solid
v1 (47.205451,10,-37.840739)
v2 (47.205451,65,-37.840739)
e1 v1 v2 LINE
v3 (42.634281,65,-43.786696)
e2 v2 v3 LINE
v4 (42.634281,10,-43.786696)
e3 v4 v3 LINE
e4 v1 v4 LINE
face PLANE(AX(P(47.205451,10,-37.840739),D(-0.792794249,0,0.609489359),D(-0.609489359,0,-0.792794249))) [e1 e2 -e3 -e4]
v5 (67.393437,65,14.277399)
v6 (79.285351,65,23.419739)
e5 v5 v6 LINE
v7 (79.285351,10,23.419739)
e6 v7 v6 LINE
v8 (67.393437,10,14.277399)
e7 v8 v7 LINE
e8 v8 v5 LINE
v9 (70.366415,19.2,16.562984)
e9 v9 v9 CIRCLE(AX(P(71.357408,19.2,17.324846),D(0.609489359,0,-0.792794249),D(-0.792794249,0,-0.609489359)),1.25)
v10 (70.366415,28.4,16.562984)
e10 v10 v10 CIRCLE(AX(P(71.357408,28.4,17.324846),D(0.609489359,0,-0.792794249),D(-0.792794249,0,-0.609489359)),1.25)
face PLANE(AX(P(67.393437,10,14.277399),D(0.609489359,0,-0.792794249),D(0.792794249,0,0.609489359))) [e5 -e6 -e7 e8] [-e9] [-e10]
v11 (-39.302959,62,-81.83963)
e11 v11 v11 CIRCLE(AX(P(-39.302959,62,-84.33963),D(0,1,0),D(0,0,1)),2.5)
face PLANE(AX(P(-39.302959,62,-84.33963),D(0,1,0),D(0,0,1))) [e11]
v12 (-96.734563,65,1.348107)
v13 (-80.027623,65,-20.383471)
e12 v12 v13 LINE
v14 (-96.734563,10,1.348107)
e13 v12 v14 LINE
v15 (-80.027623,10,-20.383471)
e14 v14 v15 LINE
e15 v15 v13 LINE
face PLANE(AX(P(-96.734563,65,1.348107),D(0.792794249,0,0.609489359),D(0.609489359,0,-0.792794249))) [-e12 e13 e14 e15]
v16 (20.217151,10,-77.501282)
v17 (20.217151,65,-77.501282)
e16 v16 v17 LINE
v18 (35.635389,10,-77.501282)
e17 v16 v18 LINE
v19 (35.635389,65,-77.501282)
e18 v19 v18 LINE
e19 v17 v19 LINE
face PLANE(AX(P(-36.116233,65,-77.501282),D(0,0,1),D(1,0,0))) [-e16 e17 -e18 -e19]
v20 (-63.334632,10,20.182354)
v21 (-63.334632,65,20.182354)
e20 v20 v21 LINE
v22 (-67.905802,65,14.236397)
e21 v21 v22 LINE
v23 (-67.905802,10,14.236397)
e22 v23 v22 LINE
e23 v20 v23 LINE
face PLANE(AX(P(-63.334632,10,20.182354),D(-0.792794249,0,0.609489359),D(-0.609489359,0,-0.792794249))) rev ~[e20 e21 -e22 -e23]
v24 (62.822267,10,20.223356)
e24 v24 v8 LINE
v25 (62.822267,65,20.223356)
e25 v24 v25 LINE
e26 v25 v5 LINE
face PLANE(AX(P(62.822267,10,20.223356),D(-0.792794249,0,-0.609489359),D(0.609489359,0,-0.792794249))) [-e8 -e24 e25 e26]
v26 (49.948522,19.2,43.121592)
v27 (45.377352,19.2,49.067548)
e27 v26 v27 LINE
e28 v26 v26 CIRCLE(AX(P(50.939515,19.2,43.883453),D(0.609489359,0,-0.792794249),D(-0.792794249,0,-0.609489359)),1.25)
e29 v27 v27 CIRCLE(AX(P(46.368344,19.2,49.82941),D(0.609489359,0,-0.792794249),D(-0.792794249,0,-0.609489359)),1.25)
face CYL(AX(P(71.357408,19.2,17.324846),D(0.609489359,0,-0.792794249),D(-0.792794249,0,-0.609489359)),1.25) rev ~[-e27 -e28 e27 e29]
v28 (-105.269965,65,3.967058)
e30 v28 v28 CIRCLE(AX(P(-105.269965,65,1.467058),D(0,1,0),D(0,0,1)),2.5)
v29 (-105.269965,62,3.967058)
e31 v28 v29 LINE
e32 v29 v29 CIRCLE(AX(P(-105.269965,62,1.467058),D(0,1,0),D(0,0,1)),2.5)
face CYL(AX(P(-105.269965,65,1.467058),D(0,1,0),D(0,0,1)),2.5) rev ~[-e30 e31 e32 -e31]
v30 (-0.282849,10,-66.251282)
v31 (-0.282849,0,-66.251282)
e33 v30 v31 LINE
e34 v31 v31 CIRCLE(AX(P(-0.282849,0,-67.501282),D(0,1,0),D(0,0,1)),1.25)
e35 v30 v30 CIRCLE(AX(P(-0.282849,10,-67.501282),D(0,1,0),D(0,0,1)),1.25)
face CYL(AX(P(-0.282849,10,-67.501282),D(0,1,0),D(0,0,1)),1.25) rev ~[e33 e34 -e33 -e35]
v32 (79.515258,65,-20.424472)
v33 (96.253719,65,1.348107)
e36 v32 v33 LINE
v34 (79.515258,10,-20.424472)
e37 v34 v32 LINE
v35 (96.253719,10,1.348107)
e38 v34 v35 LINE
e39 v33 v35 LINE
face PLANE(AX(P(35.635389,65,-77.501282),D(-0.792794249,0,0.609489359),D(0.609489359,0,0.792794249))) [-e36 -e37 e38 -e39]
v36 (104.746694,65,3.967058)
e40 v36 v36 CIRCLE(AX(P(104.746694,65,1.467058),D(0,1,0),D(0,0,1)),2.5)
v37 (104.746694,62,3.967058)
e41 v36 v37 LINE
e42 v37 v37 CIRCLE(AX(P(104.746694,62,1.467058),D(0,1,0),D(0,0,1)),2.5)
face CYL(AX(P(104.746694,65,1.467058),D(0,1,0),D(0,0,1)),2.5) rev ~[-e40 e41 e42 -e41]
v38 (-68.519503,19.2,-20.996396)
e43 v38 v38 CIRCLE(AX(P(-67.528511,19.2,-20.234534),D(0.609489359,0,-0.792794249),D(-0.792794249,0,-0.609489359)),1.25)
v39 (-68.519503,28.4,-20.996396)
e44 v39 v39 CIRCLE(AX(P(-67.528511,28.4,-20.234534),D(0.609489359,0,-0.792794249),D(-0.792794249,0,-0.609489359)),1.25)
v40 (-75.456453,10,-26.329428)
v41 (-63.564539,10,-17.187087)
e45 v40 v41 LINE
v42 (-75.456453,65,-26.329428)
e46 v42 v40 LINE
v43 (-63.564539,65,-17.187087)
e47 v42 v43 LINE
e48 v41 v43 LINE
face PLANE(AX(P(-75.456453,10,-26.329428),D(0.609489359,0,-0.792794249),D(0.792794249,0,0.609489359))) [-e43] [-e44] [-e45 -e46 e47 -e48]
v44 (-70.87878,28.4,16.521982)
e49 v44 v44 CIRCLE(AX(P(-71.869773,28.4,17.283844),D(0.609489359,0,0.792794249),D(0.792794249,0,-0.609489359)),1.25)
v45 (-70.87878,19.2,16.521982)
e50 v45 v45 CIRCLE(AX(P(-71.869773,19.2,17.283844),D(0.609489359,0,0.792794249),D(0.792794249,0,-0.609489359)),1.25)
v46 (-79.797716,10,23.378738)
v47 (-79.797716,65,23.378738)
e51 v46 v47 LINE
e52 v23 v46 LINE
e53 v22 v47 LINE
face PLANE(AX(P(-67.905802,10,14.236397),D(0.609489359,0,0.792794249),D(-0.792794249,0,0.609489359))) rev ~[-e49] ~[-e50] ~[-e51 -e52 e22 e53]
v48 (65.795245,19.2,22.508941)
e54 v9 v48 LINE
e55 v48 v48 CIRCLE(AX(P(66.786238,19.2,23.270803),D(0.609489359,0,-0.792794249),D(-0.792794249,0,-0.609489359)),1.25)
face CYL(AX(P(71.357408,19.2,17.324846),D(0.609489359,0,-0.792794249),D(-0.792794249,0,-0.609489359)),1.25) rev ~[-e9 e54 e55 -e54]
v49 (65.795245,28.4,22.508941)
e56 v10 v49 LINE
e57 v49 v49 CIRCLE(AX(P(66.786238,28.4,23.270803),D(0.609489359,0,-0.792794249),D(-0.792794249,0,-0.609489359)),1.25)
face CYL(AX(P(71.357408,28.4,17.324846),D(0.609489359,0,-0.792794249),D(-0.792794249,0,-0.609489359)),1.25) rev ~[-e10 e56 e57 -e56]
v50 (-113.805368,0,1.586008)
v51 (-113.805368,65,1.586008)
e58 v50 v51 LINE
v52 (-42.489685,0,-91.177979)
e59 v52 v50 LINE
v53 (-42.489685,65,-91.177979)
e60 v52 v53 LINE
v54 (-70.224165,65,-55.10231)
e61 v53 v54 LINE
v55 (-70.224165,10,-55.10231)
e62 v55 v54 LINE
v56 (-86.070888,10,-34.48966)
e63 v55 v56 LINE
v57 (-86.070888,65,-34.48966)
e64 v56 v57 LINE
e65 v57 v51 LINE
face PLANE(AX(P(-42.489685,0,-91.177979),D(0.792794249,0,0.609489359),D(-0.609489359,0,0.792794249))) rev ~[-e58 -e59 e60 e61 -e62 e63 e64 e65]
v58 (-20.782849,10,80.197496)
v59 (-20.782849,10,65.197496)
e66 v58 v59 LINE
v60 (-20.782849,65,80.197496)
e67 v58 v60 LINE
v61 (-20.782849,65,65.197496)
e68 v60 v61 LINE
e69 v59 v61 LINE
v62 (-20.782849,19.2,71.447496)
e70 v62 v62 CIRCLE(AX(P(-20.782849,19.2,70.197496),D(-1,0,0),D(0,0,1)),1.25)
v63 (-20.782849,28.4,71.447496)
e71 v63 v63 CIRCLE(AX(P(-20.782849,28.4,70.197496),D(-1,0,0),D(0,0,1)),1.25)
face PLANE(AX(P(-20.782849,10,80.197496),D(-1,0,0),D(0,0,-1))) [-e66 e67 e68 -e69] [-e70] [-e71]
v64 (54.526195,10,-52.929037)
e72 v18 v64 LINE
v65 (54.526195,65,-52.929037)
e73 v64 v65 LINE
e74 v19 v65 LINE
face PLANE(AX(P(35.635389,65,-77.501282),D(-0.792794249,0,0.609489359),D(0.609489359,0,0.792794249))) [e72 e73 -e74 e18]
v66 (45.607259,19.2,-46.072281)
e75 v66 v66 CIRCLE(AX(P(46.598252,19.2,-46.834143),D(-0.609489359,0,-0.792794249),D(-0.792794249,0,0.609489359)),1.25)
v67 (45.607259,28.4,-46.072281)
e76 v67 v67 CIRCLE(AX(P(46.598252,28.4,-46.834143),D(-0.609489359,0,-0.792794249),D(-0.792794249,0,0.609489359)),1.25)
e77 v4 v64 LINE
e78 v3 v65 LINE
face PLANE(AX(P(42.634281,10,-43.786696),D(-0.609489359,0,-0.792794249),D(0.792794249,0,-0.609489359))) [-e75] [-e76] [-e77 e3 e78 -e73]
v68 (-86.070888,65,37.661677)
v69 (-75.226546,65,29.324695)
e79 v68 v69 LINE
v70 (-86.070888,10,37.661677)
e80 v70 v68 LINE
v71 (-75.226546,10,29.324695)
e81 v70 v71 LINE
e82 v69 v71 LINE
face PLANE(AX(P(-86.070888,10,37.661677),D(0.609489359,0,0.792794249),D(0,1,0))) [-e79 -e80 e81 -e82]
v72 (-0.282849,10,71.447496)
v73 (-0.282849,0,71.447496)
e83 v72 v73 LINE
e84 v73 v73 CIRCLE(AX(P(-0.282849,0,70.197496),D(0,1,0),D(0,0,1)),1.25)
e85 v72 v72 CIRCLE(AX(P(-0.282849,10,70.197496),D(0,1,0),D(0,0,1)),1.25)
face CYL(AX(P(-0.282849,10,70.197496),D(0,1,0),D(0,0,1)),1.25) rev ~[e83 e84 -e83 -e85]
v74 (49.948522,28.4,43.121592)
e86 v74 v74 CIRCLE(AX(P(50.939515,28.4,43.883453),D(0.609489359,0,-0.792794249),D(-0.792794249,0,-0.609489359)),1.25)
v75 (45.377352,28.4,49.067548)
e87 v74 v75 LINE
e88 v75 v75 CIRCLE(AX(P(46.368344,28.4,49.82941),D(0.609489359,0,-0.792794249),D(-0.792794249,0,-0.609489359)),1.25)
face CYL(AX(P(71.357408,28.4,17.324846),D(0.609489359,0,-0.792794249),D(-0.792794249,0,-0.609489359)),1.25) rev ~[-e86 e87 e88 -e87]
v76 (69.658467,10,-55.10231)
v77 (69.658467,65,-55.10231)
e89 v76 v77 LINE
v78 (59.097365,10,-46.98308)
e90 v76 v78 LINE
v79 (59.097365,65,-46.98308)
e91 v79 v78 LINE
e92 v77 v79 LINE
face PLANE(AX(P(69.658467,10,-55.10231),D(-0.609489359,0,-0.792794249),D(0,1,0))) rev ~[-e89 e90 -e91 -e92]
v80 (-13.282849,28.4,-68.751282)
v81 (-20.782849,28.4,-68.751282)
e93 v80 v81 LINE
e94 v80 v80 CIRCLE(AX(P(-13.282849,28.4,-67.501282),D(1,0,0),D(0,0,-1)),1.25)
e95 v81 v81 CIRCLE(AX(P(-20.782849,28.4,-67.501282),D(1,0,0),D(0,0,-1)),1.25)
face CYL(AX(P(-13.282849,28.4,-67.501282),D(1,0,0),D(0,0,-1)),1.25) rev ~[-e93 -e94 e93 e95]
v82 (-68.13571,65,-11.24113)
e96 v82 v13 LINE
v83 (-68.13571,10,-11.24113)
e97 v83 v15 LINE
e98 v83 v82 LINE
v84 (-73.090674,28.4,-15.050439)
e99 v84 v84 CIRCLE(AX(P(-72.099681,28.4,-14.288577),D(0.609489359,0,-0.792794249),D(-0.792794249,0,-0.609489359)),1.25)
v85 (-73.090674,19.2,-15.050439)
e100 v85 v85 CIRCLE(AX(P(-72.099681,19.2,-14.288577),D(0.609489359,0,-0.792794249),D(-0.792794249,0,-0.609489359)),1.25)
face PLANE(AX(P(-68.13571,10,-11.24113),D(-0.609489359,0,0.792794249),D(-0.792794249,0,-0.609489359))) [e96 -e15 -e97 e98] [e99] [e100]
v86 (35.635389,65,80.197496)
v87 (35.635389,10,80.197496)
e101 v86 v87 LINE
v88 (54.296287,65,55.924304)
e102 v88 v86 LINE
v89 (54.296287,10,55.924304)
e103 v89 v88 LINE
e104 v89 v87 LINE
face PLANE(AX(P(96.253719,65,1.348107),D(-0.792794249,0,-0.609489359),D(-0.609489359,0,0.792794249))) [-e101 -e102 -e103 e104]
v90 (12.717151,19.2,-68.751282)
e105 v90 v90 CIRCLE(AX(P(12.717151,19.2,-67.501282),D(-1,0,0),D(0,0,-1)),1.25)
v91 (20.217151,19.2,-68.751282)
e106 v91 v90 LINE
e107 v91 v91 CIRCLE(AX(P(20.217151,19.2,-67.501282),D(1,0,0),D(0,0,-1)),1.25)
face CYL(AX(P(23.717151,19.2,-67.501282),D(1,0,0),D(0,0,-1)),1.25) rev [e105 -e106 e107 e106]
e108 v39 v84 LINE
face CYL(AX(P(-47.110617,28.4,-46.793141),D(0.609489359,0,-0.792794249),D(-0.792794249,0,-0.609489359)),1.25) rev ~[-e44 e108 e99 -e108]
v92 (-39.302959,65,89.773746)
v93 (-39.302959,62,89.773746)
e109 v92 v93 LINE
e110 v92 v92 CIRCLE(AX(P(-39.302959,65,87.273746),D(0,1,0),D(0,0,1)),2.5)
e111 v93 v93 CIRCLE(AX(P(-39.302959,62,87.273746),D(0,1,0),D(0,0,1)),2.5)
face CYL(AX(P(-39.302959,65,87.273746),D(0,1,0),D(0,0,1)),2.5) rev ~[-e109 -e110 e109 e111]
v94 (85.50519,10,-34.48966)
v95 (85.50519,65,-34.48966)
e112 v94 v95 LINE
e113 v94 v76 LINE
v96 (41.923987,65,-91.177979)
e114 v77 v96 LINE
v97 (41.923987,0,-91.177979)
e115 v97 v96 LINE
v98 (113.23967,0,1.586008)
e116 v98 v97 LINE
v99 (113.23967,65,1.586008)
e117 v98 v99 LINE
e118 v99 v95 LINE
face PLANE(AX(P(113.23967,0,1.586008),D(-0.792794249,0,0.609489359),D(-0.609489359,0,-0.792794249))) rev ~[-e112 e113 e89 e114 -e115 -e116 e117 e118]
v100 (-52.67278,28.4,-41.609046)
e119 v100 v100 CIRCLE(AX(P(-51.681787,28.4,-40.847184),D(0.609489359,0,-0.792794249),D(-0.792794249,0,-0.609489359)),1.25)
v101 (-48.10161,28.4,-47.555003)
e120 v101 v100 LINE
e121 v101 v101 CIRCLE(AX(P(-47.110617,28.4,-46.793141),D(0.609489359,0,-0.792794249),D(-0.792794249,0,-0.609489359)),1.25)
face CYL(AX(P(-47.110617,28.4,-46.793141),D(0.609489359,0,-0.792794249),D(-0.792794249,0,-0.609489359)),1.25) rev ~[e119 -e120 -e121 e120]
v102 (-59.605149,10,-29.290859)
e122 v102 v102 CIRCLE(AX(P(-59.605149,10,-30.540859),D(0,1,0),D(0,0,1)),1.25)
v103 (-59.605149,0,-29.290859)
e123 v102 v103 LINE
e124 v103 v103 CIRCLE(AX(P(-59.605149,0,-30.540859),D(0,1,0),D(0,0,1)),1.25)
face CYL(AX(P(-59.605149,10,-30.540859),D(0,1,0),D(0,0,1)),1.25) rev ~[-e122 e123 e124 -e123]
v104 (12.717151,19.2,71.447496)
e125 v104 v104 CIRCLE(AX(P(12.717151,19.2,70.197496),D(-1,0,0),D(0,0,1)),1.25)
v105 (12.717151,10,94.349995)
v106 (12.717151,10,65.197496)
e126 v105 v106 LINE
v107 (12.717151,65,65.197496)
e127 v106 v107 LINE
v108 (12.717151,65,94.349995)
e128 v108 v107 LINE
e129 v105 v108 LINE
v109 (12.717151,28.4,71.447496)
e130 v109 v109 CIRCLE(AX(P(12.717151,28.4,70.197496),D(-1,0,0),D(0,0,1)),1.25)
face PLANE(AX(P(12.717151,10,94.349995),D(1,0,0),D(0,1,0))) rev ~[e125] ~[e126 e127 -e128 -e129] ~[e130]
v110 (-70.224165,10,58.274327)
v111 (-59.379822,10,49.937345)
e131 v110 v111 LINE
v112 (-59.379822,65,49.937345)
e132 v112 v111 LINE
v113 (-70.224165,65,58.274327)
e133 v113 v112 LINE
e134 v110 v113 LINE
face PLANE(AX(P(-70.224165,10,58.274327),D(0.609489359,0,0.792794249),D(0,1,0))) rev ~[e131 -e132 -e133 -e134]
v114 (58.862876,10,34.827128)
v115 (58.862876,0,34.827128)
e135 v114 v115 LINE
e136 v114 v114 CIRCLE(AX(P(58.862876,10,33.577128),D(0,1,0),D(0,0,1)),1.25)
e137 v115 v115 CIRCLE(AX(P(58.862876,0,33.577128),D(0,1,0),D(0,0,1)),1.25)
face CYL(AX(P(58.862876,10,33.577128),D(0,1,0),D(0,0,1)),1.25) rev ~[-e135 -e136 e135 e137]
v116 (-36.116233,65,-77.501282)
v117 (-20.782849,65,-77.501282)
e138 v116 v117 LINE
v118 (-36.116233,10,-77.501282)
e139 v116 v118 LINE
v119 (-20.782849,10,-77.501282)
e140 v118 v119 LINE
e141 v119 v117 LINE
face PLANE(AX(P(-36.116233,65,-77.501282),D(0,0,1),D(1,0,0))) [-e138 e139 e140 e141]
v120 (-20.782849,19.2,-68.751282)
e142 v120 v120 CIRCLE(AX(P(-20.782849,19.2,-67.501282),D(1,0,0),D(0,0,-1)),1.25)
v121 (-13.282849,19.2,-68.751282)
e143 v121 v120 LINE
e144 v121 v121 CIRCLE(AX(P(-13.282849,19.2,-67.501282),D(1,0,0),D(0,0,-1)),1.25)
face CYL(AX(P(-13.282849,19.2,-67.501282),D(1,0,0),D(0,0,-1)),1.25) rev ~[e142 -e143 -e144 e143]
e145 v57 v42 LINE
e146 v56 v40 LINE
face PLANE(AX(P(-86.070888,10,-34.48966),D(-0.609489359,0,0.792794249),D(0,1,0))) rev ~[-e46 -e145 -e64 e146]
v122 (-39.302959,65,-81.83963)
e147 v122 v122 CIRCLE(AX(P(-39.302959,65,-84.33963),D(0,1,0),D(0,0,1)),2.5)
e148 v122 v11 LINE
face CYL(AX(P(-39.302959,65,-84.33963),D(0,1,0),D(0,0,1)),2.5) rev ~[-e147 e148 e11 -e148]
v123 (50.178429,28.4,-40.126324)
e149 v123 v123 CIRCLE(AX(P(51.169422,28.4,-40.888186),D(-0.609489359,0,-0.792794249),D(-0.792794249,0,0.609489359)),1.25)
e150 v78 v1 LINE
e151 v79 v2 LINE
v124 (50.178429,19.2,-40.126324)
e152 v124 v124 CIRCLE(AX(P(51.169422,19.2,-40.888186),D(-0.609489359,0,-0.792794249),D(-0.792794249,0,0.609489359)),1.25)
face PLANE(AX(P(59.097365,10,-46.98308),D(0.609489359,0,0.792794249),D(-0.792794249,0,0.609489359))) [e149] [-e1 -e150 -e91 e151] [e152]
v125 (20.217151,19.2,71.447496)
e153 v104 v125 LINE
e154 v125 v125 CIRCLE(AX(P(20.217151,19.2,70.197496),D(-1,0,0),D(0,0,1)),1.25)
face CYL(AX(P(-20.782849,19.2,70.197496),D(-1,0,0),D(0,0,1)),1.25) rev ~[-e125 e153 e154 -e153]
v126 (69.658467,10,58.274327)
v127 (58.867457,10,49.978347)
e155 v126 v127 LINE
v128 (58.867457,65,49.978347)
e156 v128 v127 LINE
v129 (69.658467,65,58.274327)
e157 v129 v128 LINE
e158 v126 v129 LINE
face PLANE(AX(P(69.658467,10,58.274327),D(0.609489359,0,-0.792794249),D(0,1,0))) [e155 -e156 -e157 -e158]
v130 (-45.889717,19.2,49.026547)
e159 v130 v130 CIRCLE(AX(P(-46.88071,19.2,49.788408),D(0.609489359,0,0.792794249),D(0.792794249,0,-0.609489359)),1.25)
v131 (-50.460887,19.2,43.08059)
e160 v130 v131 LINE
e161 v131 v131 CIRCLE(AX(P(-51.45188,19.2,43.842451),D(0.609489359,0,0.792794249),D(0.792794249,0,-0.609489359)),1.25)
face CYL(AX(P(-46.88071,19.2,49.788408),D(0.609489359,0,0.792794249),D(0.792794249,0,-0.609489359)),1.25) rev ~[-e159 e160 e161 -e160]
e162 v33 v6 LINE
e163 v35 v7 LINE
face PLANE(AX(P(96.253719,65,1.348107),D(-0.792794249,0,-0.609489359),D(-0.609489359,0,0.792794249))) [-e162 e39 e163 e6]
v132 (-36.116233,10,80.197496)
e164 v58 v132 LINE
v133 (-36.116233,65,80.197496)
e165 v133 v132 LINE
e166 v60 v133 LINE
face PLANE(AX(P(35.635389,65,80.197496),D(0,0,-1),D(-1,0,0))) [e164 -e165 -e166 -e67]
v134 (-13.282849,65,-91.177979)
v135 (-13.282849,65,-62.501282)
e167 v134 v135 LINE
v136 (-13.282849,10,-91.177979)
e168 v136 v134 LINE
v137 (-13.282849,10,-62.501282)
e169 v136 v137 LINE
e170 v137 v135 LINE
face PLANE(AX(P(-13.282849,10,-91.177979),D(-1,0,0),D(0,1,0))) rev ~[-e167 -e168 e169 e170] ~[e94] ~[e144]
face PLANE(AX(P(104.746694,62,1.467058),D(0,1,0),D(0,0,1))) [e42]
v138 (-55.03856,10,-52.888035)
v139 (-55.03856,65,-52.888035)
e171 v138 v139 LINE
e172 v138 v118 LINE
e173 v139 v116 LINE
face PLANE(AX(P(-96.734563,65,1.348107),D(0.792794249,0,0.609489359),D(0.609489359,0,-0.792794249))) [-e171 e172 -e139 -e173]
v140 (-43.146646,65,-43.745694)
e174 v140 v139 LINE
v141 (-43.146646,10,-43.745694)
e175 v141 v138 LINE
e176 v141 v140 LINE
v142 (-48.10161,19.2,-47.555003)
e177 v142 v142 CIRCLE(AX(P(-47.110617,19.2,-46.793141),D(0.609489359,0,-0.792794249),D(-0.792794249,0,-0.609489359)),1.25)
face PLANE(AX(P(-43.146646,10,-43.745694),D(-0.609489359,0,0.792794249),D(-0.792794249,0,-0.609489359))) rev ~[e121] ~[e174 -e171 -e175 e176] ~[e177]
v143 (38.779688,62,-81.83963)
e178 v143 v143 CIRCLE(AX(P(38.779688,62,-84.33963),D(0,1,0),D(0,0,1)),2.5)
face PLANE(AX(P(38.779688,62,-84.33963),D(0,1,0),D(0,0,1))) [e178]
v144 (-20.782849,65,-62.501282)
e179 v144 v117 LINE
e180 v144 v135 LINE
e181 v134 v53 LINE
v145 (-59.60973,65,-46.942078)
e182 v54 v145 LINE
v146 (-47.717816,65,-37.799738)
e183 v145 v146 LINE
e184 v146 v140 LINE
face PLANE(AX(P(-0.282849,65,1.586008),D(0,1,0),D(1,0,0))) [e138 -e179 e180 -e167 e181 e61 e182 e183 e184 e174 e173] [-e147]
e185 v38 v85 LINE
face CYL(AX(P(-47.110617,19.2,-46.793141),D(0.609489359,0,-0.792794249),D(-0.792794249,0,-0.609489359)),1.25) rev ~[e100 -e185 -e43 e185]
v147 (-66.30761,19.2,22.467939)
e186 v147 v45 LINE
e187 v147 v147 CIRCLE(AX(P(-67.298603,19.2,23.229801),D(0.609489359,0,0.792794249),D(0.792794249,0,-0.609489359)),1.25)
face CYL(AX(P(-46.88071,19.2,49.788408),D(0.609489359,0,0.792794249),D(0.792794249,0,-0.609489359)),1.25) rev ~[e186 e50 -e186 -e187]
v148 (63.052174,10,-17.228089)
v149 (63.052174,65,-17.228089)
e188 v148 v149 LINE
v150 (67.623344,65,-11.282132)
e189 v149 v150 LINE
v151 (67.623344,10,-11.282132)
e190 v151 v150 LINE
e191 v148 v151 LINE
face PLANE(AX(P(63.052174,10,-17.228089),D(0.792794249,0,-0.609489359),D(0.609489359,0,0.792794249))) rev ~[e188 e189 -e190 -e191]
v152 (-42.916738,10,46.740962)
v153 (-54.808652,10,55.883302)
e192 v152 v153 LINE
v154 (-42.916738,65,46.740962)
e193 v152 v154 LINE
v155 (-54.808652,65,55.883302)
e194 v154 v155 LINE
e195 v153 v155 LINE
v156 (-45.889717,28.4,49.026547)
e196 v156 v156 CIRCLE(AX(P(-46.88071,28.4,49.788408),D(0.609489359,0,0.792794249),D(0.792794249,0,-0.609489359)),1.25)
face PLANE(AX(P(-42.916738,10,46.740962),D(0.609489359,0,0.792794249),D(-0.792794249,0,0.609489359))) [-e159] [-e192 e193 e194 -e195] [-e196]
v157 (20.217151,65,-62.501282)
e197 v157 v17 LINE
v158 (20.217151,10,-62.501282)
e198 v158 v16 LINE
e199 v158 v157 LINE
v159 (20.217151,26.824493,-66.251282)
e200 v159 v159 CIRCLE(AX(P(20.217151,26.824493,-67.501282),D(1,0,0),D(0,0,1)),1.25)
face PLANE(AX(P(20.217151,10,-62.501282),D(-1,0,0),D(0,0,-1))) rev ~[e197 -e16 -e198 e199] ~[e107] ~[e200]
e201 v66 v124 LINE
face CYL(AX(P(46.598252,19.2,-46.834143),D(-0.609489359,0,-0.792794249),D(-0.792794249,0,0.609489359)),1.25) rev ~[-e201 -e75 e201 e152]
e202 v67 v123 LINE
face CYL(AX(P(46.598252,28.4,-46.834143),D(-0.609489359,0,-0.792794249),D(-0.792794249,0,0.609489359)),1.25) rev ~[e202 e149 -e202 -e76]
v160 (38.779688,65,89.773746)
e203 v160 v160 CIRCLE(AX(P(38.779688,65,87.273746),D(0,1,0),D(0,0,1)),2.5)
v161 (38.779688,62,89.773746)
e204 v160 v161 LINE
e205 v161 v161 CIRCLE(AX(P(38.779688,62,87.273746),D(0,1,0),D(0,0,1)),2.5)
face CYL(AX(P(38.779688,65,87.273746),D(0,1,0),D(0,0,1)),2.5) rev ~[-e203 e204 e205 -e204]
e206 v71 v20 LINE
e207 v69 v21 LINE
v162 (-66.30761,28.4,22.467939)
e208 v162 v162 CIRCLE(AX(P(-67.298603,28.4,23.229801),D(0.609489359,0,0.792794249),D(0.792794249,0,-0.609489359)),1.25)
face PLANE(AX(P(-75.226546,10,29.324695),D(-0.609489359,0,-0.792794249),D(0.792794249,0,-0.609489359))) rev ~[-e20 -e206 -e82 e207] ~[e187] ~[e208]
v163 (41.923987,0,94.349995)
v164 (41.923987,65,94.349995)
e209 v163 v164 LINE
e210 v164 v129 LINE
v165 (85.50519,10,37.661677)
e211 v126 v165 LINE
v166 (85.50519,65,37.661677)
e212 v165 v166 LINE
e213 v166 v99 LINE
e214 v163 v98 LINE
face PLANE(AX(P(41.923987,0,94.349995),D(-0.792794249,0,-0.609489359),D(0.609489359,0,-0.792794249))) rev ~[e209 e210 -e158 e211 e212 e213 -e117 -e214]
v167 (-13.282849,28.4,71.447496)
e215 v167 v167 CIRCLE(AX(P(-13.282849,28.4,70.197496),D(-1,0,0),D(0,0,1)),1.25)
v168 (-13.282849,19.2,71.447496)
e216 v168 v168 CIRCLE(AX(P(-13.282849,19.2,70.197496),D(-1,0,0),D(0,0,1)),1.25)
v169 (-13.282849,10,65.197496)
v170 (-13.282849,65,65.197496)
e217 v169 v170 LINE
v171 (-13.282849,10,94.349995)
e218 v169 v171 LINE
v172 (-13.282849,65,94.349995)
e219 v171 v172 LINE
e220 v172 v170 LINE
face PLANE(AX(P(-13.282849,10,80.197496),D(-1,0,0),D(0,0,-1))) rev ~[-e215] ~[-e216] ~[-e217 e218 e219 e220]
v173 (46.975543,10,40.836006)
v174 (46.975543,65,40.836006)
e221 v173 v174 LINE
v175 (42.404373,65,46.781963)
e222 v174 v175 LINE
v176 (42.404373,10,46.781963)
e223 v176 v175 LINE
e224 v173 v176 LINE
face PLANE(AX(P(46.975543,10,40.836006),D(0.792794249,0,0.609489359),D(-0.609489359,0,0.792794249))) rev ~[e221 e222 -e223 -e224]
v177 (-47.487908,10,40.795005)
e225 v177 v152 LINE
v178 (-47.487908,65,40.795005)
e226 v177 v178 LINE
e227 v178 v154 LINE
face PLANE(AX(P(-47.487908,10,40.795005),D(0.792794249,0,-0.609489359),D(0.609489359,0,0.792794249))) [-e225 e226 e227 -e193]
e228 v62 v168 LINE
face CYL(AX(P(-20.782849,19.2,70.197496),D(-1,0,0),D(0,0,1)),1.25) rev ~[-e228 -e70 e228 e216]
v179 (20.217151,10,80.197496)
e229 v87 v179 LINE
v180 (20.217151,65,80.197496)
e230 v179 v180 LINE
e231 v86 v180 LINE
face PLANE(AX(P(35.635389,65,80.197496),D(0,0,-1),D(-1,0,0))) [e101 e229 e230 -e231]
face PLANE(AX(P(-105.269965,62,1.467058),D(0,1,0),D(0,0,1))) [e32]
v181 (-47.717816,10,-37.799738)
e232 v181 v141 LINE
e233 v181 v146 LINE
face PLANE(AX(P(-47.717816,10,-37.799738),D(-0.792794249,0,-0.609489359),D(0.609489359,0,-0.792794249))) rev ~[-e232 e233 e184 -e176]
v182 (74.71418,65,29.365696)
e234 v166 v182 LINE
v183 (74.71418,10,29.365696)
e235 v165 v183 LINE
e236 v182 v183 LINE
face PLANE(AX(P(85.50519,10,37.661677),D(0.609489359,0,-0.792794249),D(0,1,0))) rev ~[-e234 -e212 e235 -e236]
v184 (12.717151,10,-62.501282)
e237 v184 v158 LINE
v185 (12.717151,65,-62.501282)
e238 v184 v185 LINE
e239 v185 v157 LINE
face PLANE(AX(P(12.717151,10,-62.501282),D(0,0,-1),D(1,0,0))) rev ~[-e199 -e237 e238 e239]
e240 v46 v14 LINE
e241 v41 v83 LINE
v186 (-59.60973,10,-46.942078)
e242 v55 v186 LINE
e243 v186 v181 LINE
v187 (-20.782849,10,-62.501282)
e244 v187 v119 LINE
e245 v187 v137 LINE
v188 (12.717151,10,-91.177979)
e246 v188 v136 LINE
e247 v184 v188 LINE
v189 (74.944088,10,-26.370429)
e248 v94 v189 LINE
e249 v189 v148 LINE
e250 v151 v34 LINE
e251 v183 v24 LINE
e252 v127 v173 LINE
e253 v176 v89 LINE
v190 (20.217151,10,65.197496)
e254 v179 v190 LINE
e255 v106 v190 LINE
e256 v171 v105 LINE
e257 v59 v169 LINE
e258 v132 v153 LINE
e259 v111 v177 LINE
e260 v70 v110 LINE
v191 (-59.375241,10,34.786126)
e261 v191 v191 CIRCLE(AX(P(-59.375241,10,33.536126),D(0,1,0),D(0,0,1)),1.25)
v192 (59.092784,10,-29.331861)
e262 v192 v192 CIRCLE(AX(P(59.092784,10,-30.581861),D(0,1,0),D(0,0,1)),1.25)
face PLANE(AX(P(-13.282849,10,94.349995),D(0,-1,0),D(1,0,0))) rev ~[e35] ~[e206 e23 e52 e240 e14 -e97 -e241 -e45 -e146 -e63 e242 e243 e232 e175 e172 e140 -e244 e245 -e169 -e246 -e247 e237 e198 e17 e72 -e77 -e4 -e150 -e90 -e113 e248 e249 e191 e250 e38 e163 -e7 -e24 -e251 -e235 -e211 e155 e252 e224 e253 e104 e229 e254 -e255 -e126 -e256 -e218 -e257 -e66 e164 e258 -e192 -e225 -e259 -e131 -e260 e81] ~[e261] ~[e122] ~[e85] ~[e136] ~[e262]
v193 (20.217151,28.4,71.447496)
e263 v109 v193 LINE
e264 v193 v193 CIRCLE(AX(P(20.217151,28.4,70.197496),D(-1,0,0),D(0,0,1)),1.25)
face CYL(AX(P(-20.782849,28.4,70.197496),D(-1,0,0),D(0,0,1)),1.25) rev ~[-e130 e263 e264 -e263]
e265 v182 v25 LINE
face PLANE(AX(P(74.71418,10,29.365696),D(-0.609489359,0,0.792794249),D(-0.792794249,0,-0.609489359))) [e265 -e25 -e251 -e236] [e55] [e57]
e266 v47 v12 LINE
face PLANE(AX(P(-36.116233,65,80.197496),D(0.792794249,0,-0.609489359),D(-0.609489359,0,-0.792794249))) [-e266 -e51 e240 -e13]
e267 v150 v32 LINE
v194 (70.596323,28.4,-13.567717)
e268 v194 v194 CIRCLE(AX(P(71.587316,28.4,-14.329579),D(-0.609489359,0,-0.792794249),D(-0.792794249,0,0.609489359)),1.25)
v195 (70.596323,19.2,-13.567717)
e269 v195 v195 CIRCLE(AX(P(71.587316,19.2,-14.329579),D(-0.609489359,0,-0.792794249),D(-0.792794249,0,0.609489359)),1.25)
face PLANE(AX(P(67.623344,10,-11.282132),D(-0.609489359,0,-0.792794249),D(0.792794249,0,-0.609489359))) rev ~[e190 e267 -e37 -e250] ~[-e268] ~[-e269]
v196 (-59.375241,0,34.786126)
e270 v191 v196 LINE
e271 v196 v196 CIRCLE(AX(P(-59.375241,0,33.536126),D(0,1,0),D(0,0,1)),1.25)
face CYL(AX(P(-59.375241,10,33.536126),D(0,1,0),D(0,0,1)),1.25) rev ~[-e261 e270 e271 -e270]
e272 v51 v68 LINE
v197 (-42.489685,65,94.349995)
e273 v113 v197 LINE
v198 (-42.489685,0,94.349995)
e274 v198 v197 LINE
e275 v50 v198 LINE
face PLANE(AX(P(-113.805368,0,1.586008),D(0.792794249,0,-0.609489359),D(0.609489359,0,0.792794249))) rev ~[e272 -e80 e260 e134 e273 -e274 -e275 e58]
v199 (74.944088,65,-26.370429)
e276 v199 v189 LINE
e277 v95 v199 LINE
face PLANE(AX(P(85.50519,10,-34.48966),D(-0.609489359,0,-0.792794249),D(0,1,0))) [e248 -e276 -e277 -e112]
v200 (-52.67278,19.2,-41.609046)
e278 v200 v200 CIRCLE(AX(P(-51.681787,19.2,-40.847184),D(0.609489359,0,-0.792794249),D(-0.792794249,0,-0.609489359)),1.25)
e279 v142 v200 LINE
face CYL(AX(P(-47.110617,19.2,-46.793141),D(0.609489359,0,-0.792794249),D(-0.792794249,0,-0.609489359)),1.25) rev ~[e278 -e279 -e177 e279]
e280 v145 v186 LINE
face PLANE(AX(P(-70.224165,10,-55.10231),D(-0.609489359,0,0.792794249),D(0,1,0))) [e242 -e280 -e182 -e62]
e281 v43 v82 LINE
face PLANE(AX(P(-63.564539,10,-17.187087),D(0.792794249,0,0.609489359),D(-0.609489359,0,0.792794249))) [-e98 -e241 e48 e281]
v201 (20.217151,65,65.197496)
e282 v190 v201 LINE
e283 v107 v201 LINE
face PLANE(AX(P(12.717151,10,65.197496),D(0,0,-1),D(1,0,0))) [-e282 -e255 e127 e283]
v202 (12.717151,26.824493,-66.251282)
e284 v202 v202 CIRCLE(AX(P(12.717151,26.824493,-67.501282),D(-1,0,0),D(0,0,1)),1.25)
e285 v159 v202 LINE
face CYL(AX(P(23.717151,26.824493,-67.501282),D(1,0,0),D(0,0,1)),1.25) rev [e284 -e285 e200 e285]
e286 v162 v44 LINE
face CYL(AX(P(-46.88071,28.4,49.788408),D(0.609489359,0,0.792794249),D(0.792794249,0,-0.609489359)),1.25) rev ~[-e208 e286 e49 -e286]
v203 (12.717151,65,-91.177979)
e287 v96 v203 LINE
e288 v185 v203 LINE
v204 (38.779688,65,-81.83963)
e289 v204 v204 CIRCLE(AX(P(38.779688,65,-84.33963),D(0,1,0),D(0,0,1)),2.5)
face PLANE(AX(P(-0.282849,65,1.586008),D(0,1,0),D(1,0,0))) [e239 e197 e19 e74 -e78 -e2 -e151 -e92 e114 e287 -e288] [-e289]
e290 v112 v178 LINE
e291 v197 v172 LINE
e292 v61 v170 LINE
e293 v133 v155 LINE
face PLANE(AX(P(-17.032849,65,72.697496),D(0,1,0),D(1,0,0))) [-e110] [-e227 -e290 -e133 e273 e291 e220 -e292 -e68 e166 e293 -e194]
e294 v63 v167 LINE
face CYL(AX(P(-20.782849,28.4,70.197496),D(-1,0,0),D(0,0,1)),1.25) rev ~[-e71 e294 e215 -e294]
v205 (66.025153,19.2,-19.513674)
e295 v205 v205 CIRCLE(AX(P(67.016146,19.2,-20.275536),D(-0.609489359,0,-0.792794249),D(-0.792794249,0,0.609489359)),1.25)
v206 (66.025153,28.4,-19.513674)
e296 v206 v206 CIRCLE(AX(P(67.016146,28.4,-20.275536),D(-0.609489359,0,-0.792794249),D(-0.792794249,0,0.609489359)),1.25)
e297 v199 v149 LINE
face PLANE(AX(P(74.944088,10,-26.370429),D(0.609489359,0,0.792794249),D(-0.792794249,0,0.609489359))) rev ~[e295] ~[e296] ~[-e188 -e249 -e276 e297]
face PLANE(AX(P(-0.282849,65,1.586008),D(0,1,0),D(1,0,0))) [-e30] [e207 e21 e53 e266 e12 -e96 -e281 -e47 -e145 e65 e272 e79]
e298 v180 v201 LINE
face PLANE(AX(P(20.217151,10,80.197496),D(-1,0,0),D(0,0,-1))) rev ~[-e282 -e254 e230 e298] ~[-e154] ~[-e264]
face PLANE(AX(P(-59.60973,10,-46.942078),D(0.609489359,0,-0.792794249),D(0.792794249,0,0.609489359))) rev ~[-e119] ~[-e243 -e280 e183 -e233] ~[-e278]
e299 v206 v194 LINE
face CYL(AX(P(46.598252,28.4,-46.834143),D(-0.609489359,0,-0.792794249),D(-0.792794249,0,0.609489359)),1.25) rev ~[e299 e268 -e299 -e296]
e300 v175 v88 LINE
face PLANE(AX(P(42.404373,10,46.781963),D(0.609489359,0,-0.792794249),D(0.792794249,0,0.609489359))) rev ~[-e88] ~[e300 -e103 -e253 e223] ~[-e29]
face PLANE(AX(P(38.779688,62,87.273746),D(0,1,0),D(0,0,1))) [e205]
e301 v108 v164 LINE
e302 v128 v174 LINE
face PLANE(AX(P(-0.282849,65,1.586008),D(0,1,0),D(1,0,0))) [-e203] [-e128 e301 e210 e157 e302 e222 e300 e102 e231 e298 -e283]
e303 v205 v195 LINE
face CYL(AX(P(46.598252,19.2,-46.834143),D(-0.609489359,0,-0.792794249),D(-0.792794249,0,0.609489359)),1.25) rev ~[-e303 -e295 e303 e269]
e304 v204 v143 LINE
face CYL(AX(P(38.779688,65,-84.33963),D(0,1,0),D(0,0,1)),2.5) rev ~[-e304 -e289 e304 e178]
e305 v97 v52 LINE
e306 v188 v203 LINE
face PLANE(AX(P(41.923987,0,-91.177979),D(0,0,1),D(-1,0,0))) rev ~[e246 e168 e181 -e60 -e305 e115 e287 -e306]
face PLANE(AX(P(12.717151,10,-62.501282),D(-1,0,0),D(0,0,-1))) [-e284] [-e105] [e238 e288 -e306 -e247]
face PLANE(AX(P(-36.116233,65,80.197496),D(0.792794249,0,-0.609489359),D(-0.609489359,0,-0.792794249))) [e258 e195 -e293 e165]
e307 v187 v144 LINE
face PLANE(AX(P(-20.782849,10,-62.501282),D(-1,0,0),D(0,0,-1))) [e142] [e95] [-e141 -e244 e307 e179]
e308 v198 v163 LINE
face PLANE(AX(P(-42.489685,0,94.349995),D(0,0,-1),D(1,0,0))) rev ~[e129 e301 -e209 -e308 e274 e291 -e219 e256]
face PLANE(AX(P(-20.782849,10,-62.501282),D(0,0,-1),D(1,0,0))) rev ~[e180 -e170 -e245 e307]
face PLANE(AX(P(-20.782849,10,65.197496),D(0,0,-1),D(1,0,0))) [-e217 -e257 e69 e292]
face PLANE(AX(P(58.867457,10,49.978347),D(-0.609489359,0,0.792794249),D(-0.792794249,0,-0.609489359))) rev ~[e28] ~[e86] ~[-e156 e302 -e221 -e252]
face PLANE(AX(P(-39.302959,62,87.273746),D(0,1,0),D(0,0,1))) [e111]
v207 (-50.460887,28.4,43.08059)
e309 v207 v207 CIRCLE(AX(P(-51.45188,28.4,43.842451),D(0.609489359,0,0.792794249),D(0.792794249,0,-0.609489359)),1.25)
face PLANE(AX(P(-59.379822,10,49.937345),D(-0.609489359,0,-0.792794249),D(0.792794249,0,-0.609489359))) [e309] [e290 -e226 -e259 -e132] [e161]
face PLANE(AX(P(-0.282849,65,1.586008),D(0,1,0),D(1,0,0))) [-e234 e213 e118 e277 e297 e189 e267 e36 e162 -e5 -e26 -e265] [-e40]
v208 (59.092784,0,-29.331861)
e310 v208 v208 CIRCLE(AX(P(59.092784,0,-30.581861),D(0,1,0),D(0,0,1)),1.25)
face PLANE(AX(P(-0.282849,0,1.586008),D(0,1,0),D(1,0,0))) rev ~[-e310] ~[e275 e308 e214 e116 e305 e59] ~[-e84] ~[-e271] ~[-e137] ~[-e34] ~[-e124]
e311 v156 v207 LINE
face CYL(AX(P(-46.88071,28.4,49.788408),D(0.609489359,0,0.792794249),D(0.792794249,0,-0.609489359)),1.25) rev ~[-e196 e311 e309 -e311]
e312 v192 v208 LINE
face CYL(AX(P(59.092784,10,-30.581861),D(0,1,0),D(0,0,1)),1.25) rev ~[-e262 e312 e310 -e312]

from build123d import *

# Parameters (mm, degrees)
BOSS_EXTRUDE2_DEPTH = 65
CUT_EXTRUDE1_DEPTH  = 55
SKETCH4_W           = 26
SKETCH4_H           = 55
CUT_EXTRUDE2_DEPTH  = 17
SKETCH10_W          = 26
SKETCH10_H          = 55
CUT_EXTRUDE3_DEPTH  = 17
SKETCH9_W           = 26
SKETCH9_H           = 55
CUT_EXTRUDE4_DEPTH  = 17
SKETCH8_W           = 26
SKETCH8_H           = 55
CUT_EXTRUDE5_DEPTH  = 17
SKETCH7_W           = 26
SKETCH7_H           = 55
CUT_EXTRUDE6_DEPTH  = 17
SKETCH6_W           = 26
SKETCH6_H           = 55
CUT_EXTRUDE7_DEPTH  = 17
SKETCH11_W          = 7.5
SKETCH11_H          = 15
BOSS_EXTRUDE4_DEPTH = 55
SKETCH12_R          = 1.25
CUT_EXTRUDE8_DEPTH  = 17
SKETCH13_R          = 1.25
CUT_EXTRUDE9_DEPTH  = 11
CUT_EXTRUDE10_START = -11
SKETCH14_R          = 1.25
CUT_EXTRUDE10_DEPTH = 11
SKETCH15_R          = 1.25
CUT_EXTRUDE11_DEPTH = 43
SKETCH16_R          = 1.25
CUT_EXTRUDE12_DEPTH = 43
SKETCH17_R          = 1.25
CUT_EXTRUDE13_DEPTH = 43
SKETCH18_R          = 1.25
CUT_EXTRUDE14_DEPTH = 43
SKETCH19_R          = 1.25
CUT_EXTRUDE15_DEPTH = 43
SKETCH20_R          = 2.5
CUT_EXTRUDE16_DEPTH = 3


with BuildPart() as part:
    # Sketch1 → Boss-Extrude2 (new body)
    with BuildSketch(Plane(origin=(0, 0, 0), x_dir=(1, 0, 0), z_dir=(0, 1, 0))):
        Polygon((-42.489685364, -94.349995431), (41.923987132, -94.349995431), (113.2396696, -1.586008434), (41.923987132, 91.177978564), (-42.489685364, 91.177978564), (-113.805367831, -1.586008434), align=None)
    extrude(amount=BOSS_EXTRUDE2_DEPTH)

    # Sketch5 → Cut-Extrude1 (cut)
    with BuildSketch(Plane(origin=(0, 65, 0), x_dir=(1, 0, 0), z_dir=(0, 1, 0))):
        Polygon((-96.734562657, -1.348107169), (-36.116232559, 77.501281779), (35.635389063, 77.501281779), (96.25371916, -1.348107169), (35.635389063, -80.197496117), (-36.116232559, -80.197496117), align=None)
    extrude(amount=-CUT_EXTRUDE1_DEPTH, mode=Mode.SUBTRACT)

    # Sketch4 → Cut-Extrude2 (cut)
    with BuildSketch(Plane(origin=(-70.762900796, 0, -54.40154878), x_dir=(-0.6094893586708845, 0, 0.792794249264558), z_dir=(-0.7927942492645579, 0, -0.6094893586708844))):
        with Locations((12.116086518, 37.5)):
            Rectangle(SKETCH4_W, SKETCH4_H)
    extrude(amount=-CUT_EXTRUDE2_DEPTH, mode=Mode.SUBTRACT)

    # Sketch10 → Cut-Extrude3 (cut)
    with BuildSketch(Plane(origin=(-72.295618263, 0, 55.579880973), x_dir=(0.6094893586708846, 0, 0.7927942492645578), z_dir=(-0.7927942492645578, 0, 0.6094893586708846))):
        with Locations((-9.601329787, 37.5)):
            Rectangle(SKETCH10_W, SKETCH10_H)
    extrude(amount=-CUT_EXTRUDE3_DEPTH, mode=Mode.SUBTRACT)

    # Sketch9 → Cut-Extrude4 (cut)
    with BuildSketch(Plane.XY.offset(94.349995431)):
        with Locations((-0.282849116, 37.5)):
            Rectangle(SKETCH9_W, SKETCH9_H)
    extrude(amount=-CUT_EXTRUDE4_DEPTH, mode=Mode.SUBTRACT)

    # Sketch8 → Cut-Extrude5 (cut)
    with BuildSketch(Plane(origin=(71.940064072, 0, 55.306535781), x_dir=(0.6094893586708842, 0, -0.7927942492645581), z_dir=(0.7927942492645581, 0, 0.6094893586708842))):
        with Locations((9.256542735, 37.5)):
            Rectangle(SKETCH8_W, SKETCH8_H)
    extrude(amount=-CUT_EXTRUDE5_DEPTH, mode=Mode.SUBTRACT)

    # Sketch7 → Cut-Extrude6 (cut)
    with BuildSketch(Plane(origin=(70.407346604, 0, -54.128203588), x_dir=(-0.6094893586708847, 0, -0.7927942492645578), z_dir=(0.7927942492645579, 0, -0.6094893586708847))):
        with Locations((-11.771299466, 37.5)):
            Rectangle(SKETCH7_W, SKETCH7_H)
    extrude(amount=-CUT_EXTRUDE6_DEPTH, mode=Mode.SUBTRACT)

    # Sketch6 → Cut-Extrude7 (cut)
    with BuildSketch(Plane(origin=(0, 0, -91.177978564), x_dir=(-1, 0, 0), z_dir=(0, 0, -1))):
        with Locations((0.282849116, 37.5)):
            Rectangle(SKETCH6_W, SKETCH6_H)
    extrude(amount=-CUT_EXTRUDE7_DEPTH, mode=Mode.SUBTRACT)

    # Sketch11 → Boss-Extrude4 (add)
    with BuildSketch(Plane(origin=(0, 10, 0), x_dir=(1, 0, 0), z_dir=(0, 1, 0))):
        with Locations((-17.032849116, -72.697496117)):
            Rectangle(SKETCH11_W, SKETCH11_H)
        with Locations((16.467150884, -72.697496117)):
            Rectangle(SKETCH11_W, SKETCH11_H)
        with Locations((-17.032849116, 70.001281779)):
            Rectangle(SKETCH11_W, SKETCH11_H)
        with Locations((16.467150884, 70.001281779)):
            Rectangle(SKETCH11_W, SKETCH11_H)
        Polygon((-75.226545521, -29.324694546), (-63.334631782, -20.182354166), (-67.905801972, -14.236397297), (-79.797715711, -23.378737677), align=None)
        Polygon((-59.379822195, -49.937345027), (-47.487908456, -40.795004647), (-42.916738266, -46.740961516), (-54.808652005, -55.883301897), align=None)
        Polygon((-75.456453141, 26.329427508), (-63.564539402, 17.187087128), (-68.135709592, 11.241130258), (-80.027623331, 20.383470638), align=None)
        Polygon((-59.609729815, 46.942077989), (-47.717816076, 37.799737608), (-43.146645886, 43.745694478), (-55.038559625, 52.888034858), align=None)
        Polygon((58.867457093, -49.978346806), (46.975543354, -40.836006426), (42.404373164, -46.781963295), (54.296286903, -55.924303675), align=None)
        Polygon((74.714180418, -29.365696325), (62.822266679, -20.223355945), (67.393436869, -14.277399075), (79.285350608, -23.419739455), align=None)
        Polygon((74.944088038, 26.370429286), (63.0521743, 17.228088906), (67.62334449, 11.282132037), (79.515258229, 20.424472417), align=None)
        Polygon((59.097364713, 46.983079767), (47.205450974, 37.840739387), (42.634280784, 43.786696257), (54.526194523, 52.929036637), align=None)
    extrude(amount=BOSS_EXTRUDE4_DEPTH)

    # Sketch12 → Cut-Extrude8 (cut)
    with BuildSketch(Plane(origin=(0, 10, 0), x_dir=(1, 0, 0), z_dir=(0, 1, 0))):
        with Locations(Location((-0.282849116, -70.197496117, 0), (0, 0, 270))):
            Circle(SKETCH12_R)
        with Locations(Location((-59.375241365, -33.5361262, 0), (0, 0, 270))):
            Circle(SKETCH12_R)
        with Locations(Location((-59.605148985, 30.540859161, 0), (0, 0, 270))):
            Circle(SKETCH12_R)
        with Locations(Location((-0.282849116, 67.501281779, 0), (0, 0, 270))):
            Circle(SKETCH12_R)
        with Locations(Location((59.092783883, 30.58186094, 0), (0, 0, 270))):
            Circle(SKETCH12_R)
        with Locations(Location((58.862876263, -33.577127979, 0), (0, 0, 270))):
            Circle(SKETCH12_R)
    extrude(amount=-CUT_EXTRUDE8_DEPTH, mode=Mode.SUBTRACT)

    # Sketch13 → Cut-Extrude9 (cut)
    with BuildSketch(Plane(origin=(-13.282849116, 0, 0), x_dir=(0, 0, -1), z_dir=(1, 0, 0))):
        with Locations((67.501281779, 28.4)):
            Circle(SKETCH13_R)
        with Locations((67.501281779, 19.2)):
            Circle(SKETCH13_R)
    extrude(amount=-CUT_EXTRUDE9_DEPTH, mode=Mode.SUBTRACT)

    # Sketch14 → Cut-Extrude10 (cut)
    with BuildSketch(Plane.ZY.offset(-12.717150884).offset(CUT_EXTRUDE10_START)):
        with Locations(Location((-67.501281779, 19.2, 0), (0, 0, 180))):
            Circle(SKETCH14_R)
        with Locations((-67.501281779, 26.82449259)):
            Circle(SKETCH14_R)
    extrude(amount=CUT_EXTRUDE10_DEPTH, mode=Mode.SUBTRACT)

    # Sketch15 → Cut-Extrude11 (cut)
    with BuildSketch(Plane(origin=(-5.320050091, 0, -6.920063587), x_dir=(-0.7927942492645578, 0, 0.6094893586708846), z_dir=(-0.6094893586708846, 0, -0.7927942492645578))):
        with Locations((-65.487738047, 19.2)):
            Circle(SKETCH15_R)
        with Locations((-65.487738047, 28.4)):
            Circle(SKETCH15_R)
    extrude(amount=-CUT_EXTRUDE11_DEPTH, mode=Mode.SUBTRACT)

    # Sketch16 → Cut-Extrude12 (cut)
    with BuildSketch(Plane(origin=(18.136296148, 0, -23.590815958), x_dir=(-0.7927942492645582, 0, -0.6094893586708842), z_dir=(0.6094893586708842, 0, -0.7927942492645582))):
        with Locations((-67.131051994, 28.4)):
            Circle(SKETCH16_R)
        with Locations((-67.131051994, 19.2)):
            Circle(SKETCH16_R)
    extrude(amount=-CUT_EXTRUDE12_DEPTH, mode=Mode.SUBTRACT)

    # Sketch17 → Cut-Extrude13 (cut)
    with BuildSketch(Plane.ZY.offset(20.782849116)):
        with Locations((70.197496117, 19.2)):
            Circle(SKETCH17_R)
        with Locations((70.197496117, 28.4)):
            Circle(SKETCH17_R)
    extrude(amount=-CUT_EXTRUDE13_DEPTH, mode=Mode.SUBTRACT)

    # Sketch18 → Cut-Extrude14 (cut)
    with BuildSketch(Plane(origin=(6.642623519, 0, 8.64040307), x_dir=(0.7927942492645585, 0, -0.6094893586708838), z_dir=(0.6094893586708837, 0, 0.7927942492645584))):
        with Locations((-67.512261953, 19.2)):
            Circle(SKETCH18_R)
        with Locations((-67.512261953, 28.4)):
            Circle(SKETCH18_R)
    extrude(amount=-CUT_EXTRUDE14_DEPTH, mode=Mode.SUBTRACT)

    # Sketch19 → Cut-Extrude15 (cut)
    with BuildSketch(Plane(origin=(5.109906051, 0, -6.646718395), x_dir=(-0.7927942492645588, 0, -0.6094893586708833), z_dir=(0.6094893586708833, 0, -0.7927942492645588))):
        with Locations((65.868948006, 19.2)):
            Circle(SKETCH19_R)
        with Locations((65.868948006, 28.4)):
            Circle(SKETCH19_R)
    extrude(amount=-CUT_EXTRUDE15_DEPTH, mode=Mode.SUBTRACT)

    # Sketch20 → Cut-Extrude16 (cut)
    with BuildSketch(Plane(origin=(0, 65, 0), x_dir=(1, 0, 0), z_dir=(0, 1, 0))):
        with Locations(Location((104.74669438, -1.467057801, 0), (0, 0, 270))):
            Circle(SKETCH20_R)
        with Locations(Location((38.779688098, 84.339630172, 0), (0, 0, 270))):
            Circle(SKETCH20_R)
        with Locations(Location((-39.302958961, 84.339630172, 0), (0, 0, 270))):
            Circle(SKETCH20_R)
        with Locations(Location((-105.269965244, -1.467057801, 0), (0, 0, 270))):
            Circle(SKETCH20_R)
        with Locations(Location((-39.302958961, -87.273745774, 0), (0, 0, 270))):
            Circle(SKETCH20_R)
        with Locations(Location((38.779688098, -87.273745774, 0), (0, 0, 270))):
            Circle(SKETCH20_R)
    extrude(amount=-CUT_EXTRUDE16_DEPTH, mode=Mode.SUBTRACT)


solid = part.part
